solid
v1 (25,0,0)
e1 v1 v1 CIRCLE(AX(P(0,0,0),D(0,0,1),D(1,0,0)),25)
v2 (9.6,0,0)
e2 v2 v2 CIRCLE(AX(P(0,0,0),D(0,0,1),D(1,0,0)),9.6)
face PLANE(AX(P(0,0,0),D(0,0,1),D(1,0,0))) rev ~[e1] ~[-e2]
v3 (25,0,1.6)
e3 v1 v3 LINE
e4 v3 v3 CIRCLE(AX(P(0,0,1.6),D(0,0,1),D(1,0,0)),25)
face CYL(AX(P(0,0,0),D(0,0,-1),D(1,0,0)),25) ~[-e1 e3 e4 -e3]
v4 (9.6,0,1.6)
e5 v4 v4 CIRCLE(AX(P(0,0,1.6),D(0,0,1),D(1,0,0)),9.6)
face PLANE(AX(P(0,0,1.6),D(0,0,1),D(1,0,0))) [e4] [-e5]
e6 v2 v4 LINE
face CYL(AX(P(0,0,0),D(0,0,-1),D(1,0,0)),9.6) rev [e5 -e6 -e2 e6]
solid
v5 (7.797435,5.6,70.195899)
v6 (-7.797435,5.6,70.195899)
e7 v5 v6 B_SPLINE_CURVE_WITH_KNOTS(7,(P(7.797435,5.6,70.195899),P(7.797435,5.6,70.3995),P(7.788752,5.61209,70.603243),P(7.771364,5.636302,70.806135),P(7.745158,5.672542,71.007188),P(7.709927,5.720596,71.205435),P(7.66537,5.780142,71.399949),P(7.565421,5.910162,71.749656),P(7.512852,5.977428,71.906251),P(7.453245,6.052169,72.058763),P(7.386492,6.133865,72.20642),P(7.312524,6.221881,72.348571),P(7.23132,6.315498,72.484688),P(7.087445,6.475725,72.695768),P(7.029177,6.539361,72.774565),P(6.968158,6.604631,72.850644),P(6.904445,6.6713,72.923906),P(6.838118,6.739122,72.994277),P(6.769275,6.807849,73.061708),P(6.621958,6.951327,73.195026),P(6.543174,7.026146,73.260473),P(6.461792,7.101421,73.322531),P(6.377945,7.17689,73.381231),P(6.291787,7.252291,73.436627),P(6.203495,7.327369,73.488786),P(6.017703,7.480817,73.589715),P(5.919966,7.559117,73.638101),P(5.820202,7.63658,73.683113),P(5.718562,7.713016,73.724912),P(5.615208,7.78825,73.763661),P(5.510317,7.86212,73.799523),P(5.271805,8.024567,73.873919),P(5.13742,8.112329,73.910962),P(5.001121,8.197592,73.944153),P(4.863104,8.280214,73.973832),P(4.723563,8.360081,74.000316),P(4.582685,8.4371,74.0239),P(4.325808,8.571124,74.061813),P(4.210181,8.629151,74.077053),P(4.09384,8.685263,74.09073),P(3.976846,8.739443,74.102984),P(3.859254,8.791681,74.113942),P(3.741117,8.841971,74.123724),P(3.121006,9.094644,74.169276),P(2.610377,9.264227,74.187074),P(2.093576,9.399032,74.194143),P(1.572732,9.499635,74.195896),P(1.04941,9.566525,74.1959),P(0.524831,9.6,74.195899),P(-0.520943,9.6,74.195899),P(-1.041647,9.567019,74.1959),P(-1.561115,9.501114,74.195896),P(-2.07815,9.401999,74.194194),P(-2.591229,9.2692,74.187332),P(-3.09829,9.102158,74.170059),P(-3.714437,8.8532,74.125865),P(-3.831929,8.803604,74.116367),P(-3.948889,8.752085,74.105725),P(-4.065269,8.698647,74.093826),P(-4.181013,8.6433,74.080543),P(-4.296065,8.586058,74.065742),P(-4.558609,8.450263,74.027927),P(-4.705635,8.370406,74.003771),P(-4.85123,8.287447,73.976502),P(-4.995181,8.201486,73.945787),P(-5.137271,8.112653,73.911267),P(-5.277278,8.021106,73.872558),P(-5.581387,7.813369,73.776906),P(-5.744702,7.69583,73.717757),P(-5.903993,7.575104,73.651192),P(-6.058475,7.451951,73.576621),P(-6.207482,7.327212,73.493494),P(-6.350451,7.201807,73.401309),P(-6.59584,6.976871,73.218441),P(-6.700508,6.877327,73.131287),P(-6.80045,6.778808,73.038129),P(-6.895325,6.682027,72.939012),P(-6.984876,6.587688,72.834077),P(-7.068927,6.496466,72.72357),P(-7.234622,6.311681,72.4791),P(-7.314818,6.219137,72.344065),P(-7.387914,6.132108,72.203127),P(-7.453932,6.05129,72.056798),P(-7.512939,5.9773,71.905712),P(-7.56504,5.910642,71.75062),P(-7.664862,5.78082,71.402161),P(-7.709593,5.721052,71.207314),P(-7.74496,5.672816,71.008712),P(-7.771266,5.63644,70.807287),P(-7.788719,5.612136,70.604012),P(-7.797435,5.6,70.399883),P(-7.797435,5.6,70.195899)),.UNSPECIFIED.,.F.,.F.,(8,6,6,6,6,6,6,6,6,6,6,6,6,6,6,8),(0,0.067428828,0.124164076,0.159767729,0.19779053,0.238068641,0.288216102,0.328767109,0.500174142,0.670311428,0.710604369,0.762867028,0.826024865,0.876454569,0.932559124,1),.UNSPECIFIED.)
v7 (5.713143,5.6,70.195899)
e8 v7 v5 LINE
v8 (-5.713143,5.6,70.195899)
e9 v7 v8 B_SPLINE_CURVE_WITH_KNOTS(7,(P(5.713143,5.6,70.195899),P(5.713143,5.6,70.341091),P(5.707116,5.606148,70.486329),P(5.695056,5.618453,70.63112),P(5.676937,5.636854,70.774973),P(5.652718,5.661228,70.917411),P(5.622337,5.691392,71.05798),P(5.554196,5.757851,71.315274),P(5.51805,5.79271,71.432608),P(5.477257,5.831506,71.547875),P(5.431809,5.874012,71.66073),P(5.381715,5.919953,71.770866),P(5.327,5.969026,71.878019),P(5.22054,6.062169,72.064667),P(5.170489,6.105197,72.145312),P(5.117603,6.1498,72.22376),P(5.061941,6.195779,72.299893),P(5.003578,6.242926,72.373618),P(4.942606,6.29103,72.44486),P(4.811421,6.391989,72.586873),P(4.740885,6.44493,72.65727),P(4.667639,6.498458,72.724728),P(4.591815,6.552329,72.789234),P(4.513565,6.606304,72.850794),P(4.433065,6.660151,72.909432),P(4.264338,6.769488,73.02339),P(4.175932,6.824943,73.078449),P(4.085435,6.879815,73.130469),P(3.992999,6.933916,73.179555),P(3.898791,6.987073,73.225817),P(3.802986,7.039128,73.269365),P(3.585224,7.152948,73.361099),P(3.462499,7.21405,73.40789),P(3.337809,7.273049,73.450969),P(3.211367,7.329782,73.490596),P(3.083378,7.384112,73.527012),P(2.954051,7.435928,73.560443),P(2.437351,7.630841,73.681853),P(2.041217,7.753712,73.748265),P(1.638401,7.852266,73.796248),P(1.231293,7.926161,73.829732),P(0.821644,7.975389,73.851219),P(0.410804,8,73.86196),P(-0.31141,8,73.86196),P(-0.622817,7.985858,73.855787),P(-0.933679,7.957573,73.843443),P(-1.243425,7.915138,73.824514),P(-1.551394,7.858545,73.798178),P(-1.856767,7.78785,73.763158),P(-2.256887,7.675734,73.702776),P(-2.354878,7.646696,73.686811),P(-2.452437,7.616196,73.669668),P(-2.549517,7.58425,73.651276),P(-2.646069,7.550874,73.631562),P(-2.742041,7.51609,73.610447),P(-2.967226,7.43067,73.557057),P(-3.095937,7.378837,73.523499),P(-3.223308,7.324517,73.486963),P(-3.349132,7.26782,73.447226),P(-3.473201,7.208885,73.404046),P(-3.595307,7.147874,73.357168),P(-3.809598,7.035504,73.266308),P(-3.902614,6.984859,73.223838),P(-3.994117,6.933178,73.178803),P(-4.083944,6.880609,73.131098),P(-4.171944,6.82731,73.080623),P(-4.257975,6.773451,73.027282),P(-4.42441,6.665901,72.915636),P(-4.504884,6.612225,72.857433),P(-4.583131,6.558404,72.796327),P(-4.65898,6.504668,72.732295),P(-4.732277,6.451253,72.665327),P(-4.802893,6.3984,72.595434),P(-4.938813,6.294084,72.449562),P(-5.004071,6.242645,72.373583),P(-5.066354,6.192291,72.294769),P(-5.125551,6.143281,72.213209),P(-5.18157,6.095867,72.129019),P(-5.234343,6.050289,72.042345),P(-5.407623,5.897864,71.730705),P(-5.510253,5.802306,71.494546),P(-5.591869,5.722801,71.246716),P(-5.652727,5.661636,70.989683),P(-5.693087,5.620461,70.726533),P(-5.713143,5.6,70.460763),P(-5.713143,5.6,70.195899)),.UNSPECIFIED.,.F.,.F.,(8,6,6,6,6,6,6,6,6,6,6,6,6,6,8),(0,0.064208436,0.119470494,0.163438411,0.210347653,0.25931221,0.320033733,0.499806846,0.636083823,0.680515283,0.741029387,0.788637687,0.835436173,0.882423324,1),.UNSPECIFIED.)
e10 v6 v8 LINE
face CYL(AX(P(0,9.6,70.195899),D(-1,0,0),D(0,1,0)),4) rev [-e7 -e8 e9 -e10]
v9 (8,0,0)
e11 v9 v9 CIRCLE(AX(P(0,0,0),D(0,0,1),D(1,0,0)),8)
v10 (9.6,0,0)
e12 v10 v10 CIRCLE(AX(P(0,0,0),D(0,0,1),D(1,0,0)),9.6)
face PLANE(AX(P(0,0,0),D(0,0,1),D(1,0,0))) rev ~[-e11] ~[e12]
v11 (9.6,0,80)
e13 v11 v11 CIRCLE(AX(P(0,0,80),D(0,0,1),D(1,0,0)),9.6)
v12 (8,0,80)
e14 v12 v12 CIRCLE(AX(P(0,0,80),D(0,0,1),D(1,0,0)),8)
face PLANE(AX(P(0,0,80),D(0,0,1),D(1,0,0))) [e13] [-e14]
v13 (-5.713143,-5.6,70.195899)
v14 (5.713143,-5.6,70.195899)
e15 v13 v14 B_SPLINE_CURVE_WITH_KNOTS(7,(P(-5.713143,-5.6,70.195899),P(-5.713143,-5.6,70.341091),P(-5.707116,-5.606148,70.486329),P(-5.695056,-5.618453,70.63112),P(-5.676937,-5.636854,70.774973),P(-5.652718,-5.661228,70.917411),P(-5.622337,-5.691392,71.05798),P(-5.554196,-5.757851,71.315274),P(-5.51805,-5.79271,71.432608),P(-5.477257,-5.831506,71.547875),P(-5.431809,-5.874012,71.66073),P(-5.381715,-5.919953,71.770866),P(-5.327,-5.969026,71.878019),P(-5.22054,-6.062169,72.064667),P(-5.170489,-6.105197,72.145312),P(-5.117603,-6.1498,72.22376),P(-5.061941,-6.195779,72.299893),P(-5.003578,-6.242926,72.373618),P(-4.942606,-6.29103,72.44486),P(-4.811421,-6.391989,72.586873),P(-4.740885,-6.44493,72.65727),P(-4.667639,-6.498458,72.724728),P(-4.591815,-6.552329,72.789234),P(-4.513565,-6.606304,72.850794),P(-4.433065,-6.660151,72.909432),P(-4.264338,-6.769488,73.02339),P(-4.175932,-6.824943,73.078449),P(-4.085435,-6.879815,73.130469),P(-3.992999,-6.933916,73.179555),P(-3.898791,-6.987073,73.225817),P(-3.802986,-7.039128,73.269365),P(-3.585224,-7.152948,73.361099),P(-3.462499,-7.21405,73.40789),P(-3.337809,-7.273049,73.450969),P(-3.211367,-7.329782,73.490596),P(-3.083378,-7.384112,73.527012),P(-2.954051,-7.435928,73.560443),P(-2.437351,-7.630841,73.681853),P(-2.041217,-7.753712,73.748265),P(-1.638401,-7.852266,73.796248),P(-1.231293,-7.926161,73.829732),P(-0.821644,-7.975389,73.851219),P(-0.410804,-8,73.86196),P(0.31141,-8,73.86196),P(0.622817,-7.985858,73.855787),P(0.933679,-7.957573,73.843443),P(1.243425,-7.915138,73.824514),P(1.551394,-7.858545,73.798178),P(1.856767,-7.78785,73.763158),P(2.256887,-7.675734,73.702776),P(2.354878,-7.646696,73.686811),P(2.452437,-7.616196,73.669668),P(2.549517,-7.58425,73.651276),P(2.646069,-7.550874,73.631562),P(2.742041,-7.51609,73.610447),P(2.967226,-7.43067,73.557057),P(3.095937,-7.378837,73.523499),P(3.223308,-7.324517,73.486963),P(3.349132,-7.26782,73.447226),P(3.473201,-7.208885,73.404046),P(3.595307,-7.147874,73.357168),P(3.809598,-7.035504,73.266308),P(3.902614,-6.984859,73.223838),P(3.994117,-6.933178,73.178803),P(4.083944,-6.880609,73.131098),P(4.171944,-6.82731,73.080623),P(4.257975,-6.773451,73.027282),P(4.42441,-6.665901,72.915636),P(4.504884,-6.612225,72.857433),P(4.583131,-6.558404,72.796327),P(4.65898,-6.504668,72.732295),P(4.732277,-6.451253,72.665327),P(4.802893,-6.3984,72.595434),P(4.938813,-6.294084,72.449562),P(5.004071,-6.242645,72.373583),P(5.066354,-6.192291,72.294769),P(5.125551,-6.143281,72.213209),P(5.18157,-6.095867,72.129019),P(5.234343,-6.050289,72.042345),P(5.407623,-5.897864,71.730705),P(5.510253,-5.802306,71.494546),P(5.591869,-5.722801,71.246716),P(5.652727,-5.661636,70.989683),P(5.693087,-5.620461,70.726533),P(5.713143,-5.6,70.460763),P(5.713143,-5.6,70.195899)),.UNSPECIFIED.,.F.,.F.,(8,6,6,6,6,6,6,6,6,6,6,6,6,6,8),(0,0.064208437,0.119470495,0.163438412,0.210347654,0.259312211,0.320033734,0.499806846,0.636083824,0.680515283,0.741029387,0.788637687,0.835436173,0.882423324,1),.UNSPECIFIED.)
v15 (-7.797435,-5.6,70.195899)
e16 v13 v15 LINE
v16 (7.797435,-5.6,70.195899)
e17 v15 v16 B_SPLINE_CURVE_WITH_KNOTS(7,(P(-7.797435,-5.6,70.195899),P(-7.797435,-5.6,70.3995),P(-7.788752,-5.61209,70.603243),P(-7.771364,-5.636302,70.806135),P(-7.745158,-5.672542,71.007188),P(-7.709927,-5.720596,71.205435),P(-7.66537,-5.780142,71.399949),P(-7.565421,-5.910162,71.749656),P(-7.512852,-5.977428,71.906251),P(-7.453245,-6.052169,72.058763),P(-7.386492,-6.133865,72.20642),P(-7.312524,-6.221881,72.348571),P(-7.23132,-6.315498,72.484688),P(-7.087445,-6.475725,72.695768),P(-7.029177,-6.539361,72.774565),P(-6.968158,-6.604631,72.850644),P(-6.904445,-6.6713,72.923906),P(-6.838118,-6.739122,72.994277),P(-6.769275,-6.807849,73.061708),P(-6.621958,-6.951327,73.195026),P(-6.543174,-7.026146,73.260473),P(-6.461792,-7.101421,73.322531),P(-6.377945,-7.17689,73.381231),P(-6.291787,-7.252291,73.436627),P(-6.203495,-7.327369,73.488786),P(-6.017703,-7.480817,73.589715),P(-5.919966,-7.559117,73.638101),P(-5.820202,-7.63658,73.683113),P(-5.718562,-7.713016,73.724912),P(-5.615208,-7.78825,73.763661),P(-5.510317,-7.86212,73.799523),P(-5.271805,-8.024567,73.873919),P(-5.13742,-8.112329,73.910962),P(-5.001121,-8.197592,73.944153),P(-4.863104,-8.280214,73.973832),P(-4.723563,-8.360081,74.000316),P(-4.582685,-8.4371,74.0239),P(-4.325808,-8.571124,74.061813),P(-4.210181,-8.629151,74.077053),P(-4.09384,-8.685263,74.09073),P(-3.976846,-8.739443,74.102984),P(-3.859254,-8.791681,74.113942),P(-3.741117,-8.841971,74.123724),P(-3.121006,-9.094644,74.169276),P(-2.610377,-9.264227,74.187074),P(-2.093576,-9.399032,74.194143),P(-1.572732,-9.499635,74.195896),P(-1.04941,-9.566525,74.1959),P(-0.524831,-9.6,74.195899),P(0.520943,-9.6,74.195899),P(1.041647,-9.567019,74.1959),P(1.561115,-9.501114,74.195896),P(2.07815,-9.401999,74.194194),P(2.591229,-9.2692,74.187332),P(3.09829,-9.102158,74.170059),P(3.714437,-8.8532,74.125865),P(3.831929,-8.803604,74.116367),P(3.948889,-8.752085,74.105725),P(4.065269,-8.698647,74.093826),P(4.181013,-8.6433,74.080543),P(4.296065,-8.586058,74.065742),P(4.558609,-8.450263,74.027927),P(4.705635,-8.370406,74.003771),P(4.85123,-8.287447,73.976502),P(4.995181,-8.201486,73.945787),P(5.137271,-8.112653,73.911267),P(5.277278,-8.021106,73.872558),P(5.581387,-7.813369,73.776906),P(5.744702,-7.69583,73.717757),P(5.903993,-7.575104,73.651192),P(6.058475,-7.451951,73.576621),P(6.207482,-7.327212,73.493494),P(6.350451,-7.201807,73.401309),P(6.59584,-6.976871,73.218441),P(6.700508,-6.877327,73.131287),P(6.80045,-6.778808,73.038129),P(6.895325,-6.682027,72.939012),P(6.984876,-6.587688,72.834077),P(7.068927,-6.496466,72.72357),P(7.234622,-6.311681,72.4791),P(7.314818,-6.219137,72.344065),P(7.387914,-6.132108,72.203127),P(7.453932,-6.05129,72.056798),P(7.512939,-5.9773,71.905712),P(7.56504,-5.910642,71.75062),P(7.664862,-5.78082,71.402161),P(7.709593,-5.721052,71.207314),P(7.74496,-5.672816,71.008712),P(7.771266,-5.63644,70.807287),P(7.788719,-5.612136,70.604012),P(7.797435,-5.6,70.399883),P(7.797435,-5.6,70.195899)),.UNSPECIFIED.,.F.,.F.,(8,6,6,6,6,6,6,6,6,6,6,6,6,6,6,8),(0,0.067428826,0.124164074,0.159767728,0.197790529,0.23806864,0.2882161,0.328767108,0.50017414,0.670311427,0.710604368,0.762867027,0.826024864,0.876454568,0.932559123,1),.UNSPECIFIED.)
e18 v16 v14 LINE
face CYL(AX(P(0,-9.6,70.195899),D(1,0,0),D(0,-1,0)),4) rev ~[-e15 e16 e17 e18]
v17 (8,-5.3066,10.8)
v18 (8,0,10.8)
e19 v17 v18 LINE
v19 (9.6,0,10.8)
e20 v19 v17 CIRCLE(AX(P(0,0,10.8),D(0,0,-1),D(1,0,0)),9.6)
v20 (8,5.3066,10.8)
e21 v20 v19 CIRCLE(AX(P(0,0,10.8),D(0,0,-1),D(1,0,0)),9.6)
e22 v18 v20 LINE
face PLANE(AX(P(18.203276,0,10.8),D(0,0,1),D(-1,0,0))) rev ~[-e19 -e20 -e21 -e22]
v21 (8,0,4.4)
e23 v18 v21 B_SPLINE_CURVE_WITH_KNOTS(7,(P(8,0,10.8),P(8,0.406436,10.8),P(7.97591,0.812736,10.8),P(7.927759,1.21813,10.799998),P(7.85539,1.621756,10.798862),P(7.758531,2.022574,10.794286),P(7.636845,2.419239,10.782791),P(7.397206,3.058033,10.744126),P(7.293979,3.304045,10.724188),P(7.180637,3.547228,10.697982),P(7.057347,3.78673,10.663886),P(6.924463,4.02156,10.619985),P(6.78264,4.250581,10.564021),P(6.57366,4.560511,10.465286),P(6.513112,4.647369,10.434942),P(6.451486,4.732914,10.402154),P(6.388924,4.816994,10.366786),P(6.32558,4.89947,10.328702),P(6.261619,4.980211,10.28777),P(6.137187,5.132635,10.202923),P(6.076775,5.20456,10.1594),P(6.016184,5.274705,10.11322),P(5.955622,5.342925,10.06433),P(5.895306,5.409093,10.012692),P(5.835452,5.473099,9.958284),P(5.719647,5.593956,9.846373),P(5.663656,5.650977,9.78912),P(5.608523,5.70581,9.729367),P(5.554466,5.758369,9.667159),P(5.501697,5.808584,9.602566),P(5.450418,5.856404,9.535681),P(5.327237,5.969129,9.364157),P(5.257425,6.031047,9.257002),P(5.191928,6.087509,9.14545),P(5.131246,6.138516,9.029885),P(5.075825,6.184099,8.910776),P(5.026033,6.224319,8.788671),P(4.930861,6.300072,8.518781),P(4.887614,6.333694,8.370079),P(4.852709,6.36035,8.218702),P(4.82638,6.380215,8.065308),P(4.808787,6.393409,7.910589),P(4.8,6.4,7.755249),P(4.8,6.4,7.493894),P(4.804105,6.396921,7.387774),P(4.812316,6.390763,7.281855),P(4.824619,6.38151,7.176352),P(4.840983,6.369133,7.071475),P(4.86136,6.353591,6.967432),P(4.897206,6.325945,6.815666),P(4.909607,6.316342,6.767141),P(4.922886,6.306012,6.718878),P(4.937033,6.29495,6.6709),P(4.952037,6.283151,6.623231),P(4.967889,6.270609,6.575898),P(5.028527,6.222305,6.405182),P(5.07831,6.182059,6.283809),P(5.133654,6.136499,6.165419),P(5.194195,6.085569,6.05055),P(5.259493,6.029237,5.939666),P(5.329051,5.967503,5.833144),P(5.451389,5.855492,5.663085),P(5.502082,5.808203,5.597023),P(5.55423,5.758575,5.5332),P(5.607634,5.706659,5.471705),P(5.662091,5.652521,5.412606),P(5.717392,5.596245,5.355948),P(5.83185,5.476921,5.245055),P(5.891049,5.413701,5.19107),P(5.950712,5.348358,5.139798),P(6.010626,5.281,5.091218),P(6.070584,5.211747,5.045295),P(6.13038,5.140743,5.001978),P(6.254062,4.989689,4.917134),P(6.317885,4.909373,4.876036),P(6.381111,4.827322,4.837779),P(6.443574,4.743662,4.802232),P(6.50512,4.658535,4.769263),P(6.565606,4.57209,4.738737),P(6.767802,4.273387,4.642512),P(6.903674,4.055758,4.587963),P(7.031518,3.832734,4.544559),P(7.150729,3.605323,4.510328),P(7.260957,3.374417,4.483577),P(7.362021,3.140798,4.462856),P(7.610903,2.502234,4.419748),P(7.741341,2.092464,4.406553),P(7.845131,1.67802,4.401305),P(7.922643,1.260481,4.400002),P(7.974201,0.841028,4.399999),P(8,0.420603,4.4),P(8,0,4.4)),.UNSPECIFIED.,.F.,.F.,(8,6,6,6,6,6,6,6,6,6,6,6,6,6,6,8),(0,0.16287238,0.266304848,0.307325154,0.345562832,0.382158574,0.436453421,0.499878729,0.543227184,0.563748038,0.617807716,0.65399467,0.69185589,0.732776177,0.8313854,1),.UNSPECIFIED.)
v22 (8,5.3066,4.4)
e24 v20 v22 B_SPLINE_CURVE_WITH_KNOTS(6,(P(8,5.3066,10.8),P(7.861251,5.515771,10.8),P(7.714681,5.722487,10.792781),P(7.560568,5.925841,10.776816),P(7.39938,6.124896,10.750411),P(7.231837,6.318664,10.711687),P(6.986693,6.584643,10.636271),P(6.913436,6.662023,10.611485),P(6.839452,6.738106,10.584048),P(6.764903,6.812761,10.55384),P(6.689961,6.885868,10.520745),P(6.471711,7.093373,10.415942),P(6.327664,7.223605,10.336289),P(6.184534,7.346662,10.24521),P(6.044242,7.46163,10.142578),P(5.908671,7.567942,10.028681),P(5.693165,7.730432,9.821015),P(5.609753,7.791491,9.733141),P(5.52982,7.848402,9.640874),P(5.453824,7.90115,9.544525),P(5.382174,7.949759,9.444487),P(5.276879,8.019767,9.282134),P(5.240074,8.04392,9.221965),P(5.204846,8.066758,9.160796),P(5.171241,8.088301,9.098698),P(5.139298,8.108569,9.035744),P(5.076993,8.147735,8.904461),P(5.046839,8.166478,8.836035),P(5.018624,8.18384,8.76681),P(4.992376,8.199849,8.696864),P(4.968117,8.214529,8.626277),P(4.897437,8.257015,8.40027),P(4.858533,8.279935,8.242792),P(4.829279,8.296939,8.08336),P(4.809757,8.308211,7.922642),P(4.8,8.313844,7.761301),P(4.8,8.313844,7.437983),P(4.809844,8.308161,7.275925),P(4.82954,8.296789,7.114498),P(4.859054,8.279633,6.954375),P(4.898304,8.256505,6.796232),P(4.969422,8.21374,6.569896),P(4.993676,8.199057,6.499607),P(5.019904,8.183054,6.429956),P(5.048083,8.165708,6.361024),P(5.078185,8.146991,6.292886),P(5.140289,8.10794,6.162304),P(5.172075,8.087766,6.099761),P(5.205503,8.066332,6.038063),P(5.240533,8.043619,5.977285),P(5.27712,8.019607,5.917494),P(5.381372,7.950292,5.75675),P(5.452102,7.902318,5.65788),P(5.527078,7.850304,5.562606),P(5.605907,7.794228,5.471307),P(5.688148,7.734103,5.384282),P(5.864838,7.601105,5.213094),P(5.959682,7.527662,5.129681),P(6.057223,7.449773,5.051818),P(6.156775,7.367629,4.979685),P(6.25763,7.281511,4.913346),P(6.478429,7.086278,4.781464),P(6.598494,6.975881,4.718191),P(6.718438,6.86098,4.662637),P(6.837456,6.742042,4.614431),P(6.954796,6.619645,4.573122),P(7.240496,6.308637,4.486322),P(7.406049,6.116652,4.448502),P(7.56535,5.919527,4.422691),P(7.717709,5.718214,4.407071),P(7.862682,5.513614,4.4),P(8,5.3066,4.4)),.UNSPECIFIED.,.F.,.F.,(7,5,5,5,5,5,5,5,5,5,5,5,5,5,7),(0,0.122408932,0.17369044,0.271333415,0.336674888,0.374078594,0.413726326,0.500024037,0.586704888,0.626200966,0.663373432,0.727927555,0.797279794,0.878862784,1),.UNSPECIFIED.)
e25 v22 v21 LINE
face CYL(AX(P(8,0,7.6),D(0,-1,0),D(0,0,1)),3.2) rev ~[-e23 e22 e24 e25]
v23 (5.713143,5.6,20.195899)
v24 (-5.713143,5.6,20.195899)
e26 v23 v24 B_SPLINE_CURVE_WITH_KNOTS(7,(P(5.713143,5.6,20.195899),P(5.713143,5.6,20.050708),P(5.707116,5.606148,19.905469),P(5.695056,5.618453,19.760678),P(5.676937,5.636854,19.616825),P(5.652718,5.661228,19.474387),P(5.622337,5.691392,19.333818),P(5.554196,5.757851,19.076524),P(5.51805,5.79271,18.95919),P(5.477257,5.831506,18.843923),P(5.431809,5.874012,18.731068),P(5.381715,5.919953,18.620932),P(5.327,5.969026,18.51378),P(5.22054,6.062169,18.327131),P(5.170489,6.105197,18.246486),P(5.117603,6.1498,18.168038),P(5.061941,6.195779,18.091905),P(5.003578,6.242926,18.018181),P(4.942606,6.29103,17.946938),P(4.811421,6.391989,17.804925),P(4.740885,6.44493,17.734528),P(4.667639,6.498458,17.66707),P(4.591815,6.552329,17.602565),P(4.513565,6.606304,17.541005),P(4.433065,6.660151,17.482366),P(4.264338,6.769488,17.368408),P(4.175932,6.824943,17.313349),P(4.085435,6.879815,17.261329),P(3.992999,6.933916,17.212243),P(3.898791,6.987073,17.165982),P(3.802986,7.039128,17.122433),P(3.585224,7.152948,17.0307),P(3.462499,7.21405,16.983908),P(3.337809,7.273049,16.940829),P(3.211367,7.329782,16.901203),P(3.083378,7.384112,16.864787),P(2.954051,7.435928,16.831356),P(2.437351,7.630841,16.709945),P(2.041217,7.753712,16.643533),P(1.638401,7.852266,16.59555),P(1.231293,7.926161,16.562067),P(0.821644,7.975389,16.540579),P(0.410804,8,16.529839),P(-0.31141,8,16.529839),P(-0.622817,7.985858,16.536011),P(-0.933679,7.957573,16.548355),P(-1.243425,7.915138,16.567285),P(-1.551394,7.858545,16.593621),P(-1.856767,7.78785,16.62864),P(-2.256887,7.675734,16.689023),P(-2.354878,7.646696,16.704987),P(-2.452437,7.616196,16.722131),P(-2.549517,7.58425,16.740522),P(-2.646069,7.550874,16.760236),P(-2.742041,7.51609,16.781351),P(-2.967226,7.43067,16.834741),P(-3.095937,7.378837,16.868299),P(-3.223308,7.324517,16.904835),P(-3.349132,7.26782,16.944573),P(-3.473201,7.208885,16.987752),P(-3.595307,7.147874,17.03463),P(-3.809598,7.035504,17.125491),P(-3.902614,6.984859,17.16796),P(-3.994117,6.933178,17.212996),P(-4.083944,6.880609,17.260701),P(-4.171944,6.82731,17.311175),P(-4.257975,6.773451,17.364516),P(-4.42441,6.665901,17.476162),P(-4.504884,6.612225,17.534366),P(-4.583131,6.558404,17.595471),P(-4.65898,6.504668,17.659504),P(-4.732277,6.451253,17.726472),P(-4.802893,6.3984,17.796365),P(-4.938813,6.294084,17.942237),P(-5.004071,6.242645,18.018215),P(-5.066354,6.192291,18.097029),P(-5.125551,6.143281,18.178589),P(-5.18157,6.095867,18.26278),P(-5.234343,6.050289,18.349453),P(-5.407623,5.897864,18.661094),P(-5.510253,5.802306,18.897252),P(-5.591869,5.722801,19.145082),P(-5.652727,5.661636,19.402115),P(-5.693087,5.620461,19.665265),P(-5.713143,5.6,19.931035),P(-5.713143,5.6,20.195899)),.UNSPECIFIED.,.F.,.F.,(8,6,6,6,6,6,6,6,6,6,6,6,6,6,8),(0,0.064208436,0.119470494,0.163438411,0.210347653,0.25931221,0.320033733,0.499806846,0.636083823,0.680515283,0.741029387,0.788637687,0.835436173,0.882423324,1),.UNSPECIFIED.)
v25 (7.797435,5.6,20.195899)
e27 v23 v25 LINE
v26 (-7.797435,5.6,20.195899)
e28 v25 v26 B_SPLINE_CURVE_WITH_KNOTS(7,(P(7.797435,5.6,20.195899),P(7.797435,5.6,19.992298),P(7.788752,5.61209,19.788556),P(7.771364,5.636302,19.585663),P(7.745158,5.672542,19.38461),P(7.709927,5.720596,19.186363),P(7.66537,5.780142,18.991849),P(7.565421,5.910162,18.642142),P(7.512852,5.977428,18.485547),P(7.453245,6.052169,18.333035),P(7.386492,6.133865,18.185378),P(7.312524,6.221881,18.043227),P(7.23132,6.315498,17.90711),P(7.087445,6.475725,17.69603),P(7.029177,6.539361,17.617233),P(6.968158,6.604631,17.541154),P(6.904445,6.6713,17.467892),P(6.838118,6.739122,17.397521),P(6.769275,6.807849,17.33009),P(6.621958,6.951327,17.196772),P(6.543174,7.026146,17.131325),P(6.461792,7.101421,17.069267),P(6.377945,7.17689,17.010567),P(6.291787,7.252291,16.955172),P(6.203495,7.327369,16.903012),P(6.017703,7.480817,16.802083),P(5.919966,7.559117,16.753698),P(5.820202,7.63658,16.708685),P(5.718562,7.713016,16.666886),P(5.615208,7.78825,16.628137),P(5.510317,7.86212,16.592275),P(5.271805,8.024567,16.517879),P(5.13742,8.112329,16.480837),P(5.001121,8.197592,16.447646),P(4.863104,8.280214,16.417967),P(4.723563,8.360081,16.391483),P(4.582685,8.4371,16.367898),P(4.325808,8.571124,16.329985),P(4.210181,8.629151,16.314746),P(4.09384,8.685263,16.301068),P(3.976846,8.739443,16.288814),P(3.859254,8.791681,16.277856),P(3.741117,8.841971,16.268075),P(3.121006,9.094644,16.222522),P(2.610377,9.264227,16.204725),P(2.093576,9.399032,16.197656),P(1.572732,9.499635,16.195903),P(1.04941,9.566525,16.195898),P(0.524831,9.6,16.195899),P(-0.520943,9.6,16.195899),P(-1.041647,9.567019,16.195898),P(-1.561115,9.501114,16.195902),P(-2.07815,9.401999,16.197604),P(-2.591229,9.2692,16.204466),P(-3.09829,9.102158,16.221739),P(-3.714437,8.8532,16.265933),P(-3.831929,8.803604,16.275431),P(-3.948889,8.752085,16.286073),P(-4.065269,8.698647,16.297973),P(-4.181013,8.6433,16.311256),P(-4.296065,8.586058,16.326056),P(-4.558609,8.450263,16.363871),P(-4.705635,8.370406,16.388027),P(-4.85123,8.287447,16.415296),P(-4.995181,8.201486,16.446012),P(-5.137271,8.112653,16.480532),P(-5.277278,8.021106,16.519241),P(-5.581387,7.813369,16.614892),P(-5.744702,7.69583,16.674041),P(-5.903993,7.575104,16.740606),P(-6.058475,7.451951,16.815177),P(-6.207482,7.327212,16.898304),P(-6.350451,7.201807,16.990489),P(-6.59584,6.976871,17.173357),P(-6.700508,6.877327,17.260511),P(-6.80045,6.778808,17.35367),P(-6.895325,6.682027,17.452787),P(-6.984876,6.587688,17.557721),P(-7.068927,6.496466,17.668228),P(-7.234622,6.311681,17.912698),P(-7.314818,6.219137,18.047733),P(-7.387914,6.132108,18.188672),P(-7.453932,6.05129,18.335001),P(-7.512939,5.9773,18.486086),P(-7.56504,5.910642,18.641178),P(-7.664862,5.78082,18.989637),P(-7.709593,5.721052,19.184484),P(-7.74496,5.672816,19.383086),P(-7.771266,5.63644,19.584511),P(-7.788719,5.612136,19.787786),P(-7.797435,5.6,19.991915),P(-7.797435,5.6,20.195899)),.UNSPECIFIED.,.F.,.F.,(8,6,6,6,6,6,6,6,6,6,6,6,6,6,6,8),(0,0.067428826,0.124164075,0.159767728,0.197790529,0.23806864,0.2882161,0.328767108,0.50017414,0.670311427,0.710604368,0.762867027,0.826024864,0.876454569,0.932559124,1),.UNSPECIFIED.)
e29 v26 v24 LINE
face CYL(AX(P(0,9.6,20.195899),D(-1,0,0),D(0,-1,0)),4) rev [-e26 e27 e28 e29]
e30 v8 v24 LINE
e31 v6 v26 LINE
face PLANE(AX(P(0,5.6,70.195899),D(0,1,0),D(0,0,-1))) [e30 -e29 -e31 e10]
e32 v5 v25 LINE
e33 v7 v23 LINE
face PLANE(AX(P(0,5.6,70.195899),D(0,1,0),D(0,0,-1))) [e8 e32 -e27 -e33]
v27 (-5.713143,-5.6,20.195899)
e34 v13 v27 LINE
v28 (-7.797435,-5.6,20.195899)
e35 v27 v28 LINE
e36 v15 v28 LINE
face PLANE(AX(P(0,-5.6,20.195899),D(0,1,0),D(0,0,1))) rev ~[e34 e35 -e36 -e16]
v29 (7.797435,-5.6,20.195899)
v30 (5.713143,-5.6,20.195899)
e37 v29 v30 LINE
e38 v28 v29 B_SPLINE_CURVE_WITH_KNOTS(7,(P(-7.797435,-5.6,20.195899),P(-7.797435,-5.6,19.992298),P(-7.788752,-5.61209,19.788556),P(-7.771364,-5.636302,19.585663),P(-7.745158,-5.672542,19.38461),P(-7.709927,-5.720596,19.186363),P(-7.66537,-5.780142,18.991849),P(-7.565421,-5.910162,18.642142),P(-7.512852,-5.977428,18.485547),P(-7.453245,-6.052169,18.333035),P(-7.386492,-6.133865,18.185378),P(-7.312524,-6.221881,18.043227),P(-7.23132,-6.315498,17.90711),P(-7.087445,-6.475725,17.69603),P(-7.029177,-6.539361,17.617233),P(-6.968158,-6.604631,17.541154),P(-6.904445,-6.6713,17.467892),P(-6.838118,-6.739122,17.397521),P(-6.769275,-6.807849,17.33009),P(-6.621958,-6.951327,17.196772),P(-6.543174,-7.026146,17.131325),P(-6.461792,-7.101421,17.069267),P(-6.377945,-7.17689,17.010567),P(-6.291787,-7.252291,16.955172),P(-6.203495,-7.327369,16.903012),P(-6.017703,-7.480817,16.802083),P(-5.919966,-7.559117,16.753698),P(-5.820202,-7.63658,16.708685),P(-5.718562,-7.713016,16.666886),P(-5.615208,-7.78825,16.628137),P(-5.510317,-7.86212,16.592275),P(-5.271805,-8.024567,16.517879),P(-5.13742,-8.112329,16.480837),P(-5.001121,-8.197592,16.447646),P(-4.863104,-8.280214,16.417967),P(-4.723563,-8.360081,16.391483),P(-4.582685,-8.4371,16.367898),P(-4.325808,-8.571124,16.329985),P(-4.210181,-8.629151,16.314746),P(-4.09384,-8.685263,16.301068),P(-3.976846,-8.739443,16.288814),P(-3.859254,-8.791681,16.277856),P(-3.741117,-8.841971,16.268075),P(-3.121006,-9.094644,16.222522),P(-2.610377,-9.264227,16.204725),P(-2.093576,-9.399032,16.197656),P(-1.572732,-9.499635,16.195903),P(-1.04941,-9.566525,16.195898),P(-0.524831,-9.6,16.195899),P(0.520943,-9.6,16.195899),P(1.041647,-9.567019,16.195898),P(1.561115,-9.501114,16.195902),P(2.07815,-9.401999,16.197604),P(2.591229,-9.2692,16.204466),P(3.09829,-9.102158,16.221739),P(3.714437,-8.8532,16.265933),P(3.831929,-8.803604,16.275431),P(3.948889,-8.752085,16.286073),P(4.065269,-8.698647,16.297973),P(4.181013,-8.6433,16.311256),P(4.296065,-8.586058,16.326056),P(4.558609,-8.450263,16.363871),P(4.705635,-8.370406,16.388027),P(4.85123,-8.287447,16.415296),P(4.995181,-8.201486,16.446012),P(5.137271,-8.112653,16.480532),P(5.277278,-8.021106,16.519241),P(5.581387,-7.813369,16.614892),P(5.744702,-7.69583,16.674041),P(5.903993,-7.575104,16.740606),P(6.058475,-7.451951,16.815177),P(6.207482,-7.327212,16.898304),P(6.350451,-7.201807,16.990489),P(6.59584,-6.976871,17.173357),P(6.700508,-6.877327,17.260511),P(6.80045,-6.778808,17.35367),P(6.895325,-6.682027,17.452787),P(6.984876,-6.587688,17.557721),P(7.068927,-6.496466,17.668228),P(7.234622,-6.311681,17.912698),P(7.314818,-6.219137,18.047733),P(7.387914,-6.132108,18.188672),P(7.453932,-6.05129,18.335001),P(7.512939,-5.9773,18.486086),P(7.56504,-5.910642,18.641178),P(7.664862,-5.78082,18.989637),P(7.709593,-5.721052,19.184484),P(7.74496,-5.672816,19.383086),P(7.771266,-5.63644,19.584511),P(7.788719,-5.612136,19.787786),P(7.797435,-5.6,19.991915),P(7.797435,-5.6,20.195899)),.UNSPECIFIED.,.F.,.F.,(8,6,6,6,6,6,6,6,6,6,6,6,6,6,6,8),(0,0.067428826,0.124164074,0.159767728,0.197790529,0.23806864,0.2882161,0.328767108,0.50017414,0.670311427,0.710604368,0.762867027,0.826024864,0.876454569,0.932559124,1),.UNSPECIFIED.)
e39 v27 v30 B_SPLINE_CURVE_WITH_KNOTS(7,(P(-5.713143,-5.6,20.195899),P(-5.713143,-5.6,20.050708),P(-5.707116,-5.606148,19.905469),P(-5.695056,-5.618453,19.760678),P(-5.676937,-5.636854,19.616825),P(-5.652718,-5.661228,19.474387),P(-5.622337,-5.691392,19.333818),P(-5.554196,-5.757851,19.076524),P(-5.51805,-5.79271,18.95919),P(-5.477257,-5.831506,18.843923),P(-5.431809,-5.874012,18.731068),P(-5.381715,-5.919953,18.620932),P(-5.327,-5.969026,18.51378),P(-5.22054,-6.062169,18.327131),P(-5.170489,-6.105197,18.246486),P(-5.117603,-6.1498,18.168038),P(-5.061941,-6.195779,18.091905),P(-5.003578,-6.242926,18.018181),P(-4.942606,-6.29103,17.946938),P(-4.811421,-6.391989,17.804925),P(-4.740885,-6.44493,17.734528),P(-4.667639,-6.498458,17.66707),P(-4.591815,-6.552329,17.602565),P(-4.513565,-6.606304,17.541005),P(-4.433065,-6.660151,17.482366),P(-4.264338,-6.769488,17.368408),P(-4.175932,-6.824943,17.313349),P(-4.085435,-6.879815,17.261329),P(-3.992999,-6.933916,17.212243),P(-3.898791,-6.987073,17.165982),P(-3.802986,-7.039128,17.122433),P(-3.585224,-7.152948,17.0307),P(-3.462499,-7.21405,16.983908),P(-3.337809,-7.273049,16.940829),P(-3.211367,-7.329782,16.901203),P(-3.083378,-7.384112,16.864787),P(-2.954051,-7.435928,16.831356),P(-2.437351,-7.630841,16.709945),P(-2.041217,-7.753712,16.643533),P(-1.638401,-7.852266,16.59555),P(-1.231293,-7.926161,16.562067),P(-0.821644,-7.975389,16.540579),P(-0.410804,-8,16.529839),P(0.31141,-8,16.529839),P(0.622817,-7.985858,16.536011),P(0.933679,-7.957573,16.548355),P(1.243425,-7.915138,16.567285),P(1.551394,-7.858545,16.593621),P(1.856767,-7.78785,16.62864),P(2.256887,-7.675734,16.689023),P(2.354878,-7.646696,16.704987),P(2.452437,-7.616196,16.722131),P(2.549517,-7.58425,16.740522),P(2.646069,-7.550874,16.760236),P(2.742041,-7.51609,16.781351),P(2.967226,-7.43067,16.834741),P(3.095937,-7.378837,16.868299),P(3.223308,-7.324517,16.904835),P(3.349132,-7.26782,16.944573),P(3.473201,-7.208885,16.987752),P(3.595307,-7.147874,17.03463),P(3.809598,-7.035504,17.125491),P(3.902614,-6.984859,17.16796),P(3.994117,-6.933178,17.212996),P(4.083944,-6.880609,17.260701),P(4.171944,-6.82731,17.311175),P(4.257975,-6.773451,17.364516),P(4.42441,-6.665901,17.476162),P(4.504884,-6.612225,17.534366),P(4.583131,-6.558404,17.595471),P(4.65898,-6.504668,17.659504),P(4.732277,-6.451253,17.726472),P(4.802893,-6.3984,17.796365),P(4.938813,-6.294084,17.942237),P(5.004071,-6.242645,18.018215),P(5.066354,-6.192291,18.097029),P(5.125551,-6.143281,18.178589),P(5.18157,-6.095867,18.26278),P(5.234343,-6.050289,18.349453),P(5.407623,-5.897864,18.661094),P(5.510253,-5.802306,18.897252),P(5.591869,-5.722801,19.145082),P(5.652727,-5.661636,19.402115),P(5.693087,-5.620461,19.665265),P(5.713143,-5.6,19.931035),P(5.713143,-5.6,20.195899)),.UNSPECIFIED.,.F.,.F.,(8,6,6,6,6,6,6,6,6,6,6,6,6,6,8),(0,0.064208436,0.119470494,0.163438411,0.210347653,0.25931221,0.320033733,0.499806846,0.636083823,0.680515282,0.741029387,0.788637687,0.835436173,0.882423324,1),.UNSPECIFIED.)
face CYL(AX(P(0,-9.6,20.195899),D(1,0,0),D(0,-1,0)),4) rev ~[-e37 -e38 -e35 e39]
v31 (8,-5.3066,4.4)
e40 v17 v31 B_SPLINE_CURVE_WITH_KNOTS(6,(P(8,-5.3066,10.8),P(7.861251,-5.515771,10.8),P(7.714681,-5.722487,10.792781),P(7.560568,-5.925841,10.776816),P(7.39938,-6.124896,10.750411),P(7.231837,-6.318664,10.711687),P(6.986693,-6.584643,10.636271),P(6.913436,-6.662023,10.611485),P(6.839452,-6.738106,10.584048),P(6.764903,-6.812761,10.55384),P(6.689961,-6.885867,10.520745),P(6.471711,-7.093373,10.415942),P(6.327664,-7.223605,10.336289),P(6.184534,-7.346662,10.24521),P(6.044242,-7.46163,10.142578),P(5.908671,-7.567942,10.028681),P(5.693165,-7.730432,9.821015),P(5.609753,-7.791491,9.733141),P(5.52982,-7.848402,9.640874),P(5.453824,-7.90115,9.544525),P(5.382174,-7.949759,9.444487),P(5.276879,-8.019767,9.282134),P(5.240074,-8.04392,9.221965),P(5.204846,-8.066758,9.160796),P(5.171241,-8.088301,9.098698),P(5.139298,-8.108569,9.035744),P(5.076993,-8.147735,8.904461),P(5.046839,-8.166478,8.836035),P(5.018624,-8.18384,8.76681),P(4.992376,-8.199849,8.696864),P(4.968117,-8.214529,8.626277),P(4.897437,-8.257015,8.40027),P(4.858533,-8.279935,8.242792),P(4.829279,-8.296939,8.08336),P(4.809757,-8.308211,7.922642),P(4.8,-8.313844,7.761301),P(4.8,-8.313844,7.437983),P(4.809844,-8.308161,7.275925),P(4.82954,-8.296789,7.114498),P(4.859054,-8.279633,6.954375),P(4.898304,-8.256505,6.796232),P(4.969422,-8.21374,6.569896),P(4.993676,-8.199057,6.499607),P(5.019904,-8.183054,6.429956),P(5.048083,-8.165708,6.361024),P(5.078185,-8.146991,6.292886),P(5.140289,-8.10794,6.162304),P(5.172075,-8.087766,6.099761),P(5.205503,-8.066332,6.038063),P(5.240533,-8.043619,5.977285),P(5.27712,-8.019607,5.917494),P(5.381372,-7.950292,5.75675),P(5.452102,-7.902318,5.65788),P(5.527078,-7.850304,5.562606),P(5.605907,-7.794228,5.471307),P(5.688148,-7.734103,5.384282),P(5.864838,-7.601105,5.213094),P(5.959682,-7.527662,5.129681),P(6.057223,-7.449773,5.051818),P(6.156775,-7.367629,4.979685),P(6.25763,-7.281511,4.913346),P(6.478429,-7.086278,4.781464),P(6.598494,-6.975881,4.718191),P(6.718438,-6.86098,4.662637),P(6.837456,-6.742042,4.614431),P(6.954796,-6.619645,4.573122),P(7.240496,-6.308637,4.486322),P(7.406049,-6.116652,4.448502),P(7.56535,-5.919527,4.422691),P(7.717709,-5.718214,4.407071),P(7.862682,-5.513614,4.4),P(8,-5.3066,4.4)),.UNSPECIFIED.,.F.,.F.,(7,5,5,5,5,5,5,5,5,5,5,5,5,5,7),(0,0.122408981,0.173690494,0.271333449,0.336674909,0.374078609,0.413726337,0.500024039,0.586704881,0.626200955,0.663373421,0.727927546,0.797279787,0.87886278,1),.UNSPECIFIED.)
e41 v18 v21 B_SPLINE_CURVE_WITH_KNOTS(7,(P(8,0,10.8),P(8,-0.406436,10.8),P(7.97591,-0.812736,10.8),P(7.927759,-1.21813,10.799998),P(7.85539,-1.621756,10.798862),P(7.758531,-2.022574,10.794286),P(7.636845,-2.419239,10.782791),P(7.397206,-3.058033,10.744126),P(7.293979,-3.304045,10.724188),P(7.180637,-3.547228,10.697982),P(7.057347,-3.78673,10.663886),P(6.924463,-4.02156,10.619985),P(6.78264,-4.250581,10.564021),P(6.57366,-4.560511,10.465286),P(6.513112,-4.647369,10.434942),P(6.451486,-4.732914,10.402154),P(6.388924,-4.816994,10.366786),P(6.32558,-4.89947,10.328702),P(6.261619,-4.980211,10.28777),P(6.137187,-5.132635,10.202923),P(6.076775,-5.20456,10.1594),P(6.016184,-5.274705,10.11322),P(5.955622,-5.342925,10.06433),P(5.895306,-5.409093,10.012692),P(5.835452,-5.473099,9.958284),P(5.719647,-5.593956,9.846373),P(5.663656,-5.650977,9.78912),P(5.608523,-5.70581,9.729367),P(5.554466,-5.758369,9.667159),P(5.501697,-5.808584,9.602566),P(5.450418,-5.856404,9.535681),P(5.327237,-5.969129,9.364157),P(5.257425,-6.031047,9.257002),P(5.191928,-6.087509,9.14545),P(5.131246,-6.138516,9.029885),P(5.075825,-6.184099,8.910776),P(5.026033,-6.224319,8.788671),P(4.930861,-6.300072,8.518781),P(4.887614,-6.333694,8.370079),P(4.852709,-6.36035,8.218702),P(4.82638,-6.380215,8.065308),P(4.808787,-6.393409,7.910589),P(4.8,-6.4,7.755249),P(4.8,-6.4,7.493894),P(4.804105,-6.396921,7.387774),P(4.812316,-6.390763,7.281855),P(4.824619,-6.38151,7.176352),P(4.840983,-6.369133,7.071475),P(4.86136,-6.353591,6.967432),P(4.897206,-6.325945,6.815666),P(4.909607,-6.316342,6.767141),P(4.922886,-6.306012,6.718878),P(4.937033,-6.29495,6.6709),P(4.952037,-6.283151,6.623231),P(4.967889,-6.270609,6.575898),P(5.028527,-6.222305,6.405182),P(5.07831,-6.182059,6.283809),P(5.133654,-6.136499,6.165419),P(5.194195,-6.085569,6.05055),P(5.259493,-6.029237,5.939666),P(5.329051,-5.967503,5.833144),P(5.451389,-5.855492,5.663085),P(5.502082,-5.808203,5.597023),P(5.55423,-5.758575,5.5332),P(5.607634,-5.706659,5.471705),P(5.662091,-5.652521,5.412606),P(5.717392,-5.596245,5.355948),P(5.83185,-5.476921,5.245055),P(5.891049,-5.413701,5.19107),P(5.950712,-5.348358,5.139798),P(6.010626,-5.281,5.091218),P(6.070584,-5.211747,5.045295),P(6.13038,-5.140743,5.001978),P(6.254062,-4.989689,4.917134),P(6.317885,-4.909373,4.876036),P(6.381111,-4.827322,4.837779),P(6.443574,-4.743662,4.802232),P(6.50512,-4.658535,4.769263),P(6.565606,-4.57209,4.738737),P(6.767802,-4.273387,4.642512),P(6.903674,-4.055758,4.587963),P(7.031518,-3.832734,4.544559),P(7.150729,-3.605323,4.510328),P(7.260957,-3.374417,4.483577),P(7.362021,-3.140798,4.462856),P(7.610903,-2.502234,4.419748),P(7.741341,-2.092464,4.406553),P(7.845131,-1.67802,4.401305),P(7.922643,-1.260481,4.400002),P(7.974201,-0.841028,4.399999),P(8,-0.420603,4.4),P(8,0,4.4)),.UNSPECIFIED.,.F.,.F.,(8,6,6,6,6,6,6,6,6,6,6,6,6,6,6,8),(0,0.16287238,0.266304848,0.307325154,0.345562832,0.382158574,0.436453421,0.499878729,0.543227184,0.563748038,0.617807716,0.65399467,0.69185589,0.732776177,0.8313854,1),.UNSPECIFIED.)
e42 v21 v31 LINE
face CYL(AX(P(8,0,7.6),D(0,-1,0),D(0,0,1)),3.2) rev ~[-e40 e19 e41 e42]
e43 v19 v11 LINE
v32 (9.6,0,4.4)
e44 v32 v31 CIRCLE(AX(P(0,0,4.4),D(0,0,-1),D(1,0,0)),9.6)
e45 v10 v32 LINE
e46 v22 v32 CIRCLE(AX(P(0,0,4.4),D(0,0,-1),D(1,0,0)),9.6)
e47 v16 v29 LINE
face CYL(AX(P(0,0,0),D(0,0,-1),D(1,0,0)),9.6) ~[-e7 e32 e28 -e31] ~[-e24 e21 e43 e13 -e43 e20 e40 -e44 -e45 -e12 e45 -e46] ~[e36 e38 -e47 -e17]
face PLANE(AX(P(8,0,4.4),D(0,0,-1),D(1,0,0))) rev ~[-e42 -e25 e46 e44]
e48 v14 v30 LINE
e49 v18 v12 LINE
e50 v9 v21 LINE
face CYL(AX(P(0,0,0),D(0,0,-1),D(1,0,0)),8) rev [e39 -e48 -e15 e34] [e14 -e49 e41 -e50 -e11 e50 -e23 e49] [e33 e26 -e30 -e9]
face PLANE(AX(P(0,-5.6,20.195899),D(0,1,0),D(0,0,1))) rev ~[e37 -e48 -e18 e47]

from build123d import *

# Parameters (mm, degrees)
F0_R     = 25
F0_R_2   = 9.6
F1_DEPTH = 1.6
F0_R_3   = 8
F2_DEPTH = 80
F4_DEPTH = 25
F6_DEPTH = 25


with BuildPart() as f1:
    # F0 (on Top) → F1 (new body)
    with BuildSketch(Plane.XY):
        Circle(F0_R)
        Circle(F0_R_2, mode=Mode.SUBTRACT)
    extrude(amount=F1_DEPTH)


with BuildPart() as f2:
    # F0 (on Top) → F2 (new body)
    with BuildSketch(Plane.XY):
        Circle(F0_R_2)
        Circle(F0_R_3, mode=Mode.SUBTRACT)
    extrude(amount=F2_DEPTH)

    # F3 (on Front) → F4 (cut, symmetric)
    with BuildSketch(Plane.XZ):
        with BuildLine():
            Line((8, 4.4), (8, 10.8))
            ThreePointArc((8, 10.8), (4.8, 7.6), (8, 4.4))
        make_face()
        with BuildLine():
            ThreePointArc((8, 4.4), (10.2627416998, 5.3372583002), (11.2, 7.6))
            ThreePointArc((11.2, 7.6), (10.2627416998, 9.8627416998), (8, 10.8))
            Line((8, 10.8), (8, 4.4))
        make_face()
        with BuildLine():
            ThreePointArc((8, 10.8), (10.2627416998, 9.8627416998), (11.2, 7.6))
            ThreePointArc((11.2, 7.6), (10.2627416998, 5.3372583002), (8, 4.4))
            Line((8, 4.4), (18.203275606, 4.4))
            Line((18.203275606, 4.4), (18.203275606, 10.8))
            Line((18.203275606, 10.8), (8, 10.8))
        make_face()
    extrude(amount=F4_DEPTH, both=True, mode=Mode.SUBTRACT)

    # F5 (on Right) → F6 (cut, symmetric)
    with BuildSketch(Plane.YZ):
        with BuildLine():
            ThreePointArc((13.6, 70.1958991309), (9.6, 74.1958991309), (5.6, 70.1958991309))
            Line((5.6, 70.1958991309), (13.6, 70.1958991309))
        make_face()
        with BuildLine():
            ThreePointArc((13.6, 70.1958991309), (9.6, 66.1958991309), (5.6, 70.1958991309))
            Line((5.6, 70.1958991309), (5.6, 20.1958991309))
            ThreePointArc((5.6, 20.1958991309), (9.6, 24.1958991309), (13.6, 20.1958991309))
            Line((13.6, 20.1958991309), (13.6, 70.1958991309))
        make_face()
        with BuildLine():
            Line((13.6, 20.1958991309), (5.6, 20.1958991309))
            ThreePointArc((5.6, 20.1958991309), (9.6, 16.1958991309), (13.6, 20.1958991309))
        make_face()
        with BuildLine():
            Line((13.6, 70.1958991309), (5.6, 70.1958991309))
            ThreePointArc((5.6, 70.1958991309), (9.6, 66.1958991309), (13.6, 70.1958991309))
        make_face()
        with BuildLine():
            ThreePointArc((13.6, 20.1958991309), (9.6, 24.1958991309), (5.6, 20.1958991309))
            Line((5.6, 20.1958991309), (13.6, 20.1958991309))
        make_face()
        with BuildLine():
            Line((-13.6, 70.1958991309), (-5.6, 70.1958991309))
            ThreePointArc((-5.6, 70.1958991309), (-9.6, 74.1958991309), (-13.6, 70.1958991309))
        make_face()
        with BuildLine():
            ThreePointArc((-13.6, 70.1958991309), (-9.6, 66.1958991309), (-5.6, 70.1958991309))
            Line((-5.6, 70.1958991309), (-13.6, 70.1958991309))
        make_face()
        with BuildLine():
            Line((-5.6, 20.1958991309), (-5.6, 70.1958991309))
            ThreePointArc((-5.6, 70.1958991309), (-9.6, 66.1958991309), (-13.6, 70.1958991309))
            Line((-13.6, 70.1958991309), (-13.6, 20.1958991309))
            ThreePointArc((-13.6, 20.1958991309), (-9.6, 24.1958991309), (-5.6, 20.1958991309))
        make_face()
        with BuildLine():
            Line((-13.6, 20.1958991309), (-5.6, 20.1958991309))
            ThreePointArc((-5.6, 20.1958991309), (-9.6, 24.1958991309), (-13.6, 20.1958991309))
        make_face()
        with BuildLine():
            ThreePointArc((-13.6, 20.1958991309), (-9.6, 16.1958991309), (-5.6, 20.1958991309))
            Line((-5.6, 20.1958991309), (-13.6, 20.1958991309))
        make_face()
    extrude(amount=F6_DEPTH, both=True, mode=Mode.SUBTRACT)


solid = Compound([f1.part, f2.part])
